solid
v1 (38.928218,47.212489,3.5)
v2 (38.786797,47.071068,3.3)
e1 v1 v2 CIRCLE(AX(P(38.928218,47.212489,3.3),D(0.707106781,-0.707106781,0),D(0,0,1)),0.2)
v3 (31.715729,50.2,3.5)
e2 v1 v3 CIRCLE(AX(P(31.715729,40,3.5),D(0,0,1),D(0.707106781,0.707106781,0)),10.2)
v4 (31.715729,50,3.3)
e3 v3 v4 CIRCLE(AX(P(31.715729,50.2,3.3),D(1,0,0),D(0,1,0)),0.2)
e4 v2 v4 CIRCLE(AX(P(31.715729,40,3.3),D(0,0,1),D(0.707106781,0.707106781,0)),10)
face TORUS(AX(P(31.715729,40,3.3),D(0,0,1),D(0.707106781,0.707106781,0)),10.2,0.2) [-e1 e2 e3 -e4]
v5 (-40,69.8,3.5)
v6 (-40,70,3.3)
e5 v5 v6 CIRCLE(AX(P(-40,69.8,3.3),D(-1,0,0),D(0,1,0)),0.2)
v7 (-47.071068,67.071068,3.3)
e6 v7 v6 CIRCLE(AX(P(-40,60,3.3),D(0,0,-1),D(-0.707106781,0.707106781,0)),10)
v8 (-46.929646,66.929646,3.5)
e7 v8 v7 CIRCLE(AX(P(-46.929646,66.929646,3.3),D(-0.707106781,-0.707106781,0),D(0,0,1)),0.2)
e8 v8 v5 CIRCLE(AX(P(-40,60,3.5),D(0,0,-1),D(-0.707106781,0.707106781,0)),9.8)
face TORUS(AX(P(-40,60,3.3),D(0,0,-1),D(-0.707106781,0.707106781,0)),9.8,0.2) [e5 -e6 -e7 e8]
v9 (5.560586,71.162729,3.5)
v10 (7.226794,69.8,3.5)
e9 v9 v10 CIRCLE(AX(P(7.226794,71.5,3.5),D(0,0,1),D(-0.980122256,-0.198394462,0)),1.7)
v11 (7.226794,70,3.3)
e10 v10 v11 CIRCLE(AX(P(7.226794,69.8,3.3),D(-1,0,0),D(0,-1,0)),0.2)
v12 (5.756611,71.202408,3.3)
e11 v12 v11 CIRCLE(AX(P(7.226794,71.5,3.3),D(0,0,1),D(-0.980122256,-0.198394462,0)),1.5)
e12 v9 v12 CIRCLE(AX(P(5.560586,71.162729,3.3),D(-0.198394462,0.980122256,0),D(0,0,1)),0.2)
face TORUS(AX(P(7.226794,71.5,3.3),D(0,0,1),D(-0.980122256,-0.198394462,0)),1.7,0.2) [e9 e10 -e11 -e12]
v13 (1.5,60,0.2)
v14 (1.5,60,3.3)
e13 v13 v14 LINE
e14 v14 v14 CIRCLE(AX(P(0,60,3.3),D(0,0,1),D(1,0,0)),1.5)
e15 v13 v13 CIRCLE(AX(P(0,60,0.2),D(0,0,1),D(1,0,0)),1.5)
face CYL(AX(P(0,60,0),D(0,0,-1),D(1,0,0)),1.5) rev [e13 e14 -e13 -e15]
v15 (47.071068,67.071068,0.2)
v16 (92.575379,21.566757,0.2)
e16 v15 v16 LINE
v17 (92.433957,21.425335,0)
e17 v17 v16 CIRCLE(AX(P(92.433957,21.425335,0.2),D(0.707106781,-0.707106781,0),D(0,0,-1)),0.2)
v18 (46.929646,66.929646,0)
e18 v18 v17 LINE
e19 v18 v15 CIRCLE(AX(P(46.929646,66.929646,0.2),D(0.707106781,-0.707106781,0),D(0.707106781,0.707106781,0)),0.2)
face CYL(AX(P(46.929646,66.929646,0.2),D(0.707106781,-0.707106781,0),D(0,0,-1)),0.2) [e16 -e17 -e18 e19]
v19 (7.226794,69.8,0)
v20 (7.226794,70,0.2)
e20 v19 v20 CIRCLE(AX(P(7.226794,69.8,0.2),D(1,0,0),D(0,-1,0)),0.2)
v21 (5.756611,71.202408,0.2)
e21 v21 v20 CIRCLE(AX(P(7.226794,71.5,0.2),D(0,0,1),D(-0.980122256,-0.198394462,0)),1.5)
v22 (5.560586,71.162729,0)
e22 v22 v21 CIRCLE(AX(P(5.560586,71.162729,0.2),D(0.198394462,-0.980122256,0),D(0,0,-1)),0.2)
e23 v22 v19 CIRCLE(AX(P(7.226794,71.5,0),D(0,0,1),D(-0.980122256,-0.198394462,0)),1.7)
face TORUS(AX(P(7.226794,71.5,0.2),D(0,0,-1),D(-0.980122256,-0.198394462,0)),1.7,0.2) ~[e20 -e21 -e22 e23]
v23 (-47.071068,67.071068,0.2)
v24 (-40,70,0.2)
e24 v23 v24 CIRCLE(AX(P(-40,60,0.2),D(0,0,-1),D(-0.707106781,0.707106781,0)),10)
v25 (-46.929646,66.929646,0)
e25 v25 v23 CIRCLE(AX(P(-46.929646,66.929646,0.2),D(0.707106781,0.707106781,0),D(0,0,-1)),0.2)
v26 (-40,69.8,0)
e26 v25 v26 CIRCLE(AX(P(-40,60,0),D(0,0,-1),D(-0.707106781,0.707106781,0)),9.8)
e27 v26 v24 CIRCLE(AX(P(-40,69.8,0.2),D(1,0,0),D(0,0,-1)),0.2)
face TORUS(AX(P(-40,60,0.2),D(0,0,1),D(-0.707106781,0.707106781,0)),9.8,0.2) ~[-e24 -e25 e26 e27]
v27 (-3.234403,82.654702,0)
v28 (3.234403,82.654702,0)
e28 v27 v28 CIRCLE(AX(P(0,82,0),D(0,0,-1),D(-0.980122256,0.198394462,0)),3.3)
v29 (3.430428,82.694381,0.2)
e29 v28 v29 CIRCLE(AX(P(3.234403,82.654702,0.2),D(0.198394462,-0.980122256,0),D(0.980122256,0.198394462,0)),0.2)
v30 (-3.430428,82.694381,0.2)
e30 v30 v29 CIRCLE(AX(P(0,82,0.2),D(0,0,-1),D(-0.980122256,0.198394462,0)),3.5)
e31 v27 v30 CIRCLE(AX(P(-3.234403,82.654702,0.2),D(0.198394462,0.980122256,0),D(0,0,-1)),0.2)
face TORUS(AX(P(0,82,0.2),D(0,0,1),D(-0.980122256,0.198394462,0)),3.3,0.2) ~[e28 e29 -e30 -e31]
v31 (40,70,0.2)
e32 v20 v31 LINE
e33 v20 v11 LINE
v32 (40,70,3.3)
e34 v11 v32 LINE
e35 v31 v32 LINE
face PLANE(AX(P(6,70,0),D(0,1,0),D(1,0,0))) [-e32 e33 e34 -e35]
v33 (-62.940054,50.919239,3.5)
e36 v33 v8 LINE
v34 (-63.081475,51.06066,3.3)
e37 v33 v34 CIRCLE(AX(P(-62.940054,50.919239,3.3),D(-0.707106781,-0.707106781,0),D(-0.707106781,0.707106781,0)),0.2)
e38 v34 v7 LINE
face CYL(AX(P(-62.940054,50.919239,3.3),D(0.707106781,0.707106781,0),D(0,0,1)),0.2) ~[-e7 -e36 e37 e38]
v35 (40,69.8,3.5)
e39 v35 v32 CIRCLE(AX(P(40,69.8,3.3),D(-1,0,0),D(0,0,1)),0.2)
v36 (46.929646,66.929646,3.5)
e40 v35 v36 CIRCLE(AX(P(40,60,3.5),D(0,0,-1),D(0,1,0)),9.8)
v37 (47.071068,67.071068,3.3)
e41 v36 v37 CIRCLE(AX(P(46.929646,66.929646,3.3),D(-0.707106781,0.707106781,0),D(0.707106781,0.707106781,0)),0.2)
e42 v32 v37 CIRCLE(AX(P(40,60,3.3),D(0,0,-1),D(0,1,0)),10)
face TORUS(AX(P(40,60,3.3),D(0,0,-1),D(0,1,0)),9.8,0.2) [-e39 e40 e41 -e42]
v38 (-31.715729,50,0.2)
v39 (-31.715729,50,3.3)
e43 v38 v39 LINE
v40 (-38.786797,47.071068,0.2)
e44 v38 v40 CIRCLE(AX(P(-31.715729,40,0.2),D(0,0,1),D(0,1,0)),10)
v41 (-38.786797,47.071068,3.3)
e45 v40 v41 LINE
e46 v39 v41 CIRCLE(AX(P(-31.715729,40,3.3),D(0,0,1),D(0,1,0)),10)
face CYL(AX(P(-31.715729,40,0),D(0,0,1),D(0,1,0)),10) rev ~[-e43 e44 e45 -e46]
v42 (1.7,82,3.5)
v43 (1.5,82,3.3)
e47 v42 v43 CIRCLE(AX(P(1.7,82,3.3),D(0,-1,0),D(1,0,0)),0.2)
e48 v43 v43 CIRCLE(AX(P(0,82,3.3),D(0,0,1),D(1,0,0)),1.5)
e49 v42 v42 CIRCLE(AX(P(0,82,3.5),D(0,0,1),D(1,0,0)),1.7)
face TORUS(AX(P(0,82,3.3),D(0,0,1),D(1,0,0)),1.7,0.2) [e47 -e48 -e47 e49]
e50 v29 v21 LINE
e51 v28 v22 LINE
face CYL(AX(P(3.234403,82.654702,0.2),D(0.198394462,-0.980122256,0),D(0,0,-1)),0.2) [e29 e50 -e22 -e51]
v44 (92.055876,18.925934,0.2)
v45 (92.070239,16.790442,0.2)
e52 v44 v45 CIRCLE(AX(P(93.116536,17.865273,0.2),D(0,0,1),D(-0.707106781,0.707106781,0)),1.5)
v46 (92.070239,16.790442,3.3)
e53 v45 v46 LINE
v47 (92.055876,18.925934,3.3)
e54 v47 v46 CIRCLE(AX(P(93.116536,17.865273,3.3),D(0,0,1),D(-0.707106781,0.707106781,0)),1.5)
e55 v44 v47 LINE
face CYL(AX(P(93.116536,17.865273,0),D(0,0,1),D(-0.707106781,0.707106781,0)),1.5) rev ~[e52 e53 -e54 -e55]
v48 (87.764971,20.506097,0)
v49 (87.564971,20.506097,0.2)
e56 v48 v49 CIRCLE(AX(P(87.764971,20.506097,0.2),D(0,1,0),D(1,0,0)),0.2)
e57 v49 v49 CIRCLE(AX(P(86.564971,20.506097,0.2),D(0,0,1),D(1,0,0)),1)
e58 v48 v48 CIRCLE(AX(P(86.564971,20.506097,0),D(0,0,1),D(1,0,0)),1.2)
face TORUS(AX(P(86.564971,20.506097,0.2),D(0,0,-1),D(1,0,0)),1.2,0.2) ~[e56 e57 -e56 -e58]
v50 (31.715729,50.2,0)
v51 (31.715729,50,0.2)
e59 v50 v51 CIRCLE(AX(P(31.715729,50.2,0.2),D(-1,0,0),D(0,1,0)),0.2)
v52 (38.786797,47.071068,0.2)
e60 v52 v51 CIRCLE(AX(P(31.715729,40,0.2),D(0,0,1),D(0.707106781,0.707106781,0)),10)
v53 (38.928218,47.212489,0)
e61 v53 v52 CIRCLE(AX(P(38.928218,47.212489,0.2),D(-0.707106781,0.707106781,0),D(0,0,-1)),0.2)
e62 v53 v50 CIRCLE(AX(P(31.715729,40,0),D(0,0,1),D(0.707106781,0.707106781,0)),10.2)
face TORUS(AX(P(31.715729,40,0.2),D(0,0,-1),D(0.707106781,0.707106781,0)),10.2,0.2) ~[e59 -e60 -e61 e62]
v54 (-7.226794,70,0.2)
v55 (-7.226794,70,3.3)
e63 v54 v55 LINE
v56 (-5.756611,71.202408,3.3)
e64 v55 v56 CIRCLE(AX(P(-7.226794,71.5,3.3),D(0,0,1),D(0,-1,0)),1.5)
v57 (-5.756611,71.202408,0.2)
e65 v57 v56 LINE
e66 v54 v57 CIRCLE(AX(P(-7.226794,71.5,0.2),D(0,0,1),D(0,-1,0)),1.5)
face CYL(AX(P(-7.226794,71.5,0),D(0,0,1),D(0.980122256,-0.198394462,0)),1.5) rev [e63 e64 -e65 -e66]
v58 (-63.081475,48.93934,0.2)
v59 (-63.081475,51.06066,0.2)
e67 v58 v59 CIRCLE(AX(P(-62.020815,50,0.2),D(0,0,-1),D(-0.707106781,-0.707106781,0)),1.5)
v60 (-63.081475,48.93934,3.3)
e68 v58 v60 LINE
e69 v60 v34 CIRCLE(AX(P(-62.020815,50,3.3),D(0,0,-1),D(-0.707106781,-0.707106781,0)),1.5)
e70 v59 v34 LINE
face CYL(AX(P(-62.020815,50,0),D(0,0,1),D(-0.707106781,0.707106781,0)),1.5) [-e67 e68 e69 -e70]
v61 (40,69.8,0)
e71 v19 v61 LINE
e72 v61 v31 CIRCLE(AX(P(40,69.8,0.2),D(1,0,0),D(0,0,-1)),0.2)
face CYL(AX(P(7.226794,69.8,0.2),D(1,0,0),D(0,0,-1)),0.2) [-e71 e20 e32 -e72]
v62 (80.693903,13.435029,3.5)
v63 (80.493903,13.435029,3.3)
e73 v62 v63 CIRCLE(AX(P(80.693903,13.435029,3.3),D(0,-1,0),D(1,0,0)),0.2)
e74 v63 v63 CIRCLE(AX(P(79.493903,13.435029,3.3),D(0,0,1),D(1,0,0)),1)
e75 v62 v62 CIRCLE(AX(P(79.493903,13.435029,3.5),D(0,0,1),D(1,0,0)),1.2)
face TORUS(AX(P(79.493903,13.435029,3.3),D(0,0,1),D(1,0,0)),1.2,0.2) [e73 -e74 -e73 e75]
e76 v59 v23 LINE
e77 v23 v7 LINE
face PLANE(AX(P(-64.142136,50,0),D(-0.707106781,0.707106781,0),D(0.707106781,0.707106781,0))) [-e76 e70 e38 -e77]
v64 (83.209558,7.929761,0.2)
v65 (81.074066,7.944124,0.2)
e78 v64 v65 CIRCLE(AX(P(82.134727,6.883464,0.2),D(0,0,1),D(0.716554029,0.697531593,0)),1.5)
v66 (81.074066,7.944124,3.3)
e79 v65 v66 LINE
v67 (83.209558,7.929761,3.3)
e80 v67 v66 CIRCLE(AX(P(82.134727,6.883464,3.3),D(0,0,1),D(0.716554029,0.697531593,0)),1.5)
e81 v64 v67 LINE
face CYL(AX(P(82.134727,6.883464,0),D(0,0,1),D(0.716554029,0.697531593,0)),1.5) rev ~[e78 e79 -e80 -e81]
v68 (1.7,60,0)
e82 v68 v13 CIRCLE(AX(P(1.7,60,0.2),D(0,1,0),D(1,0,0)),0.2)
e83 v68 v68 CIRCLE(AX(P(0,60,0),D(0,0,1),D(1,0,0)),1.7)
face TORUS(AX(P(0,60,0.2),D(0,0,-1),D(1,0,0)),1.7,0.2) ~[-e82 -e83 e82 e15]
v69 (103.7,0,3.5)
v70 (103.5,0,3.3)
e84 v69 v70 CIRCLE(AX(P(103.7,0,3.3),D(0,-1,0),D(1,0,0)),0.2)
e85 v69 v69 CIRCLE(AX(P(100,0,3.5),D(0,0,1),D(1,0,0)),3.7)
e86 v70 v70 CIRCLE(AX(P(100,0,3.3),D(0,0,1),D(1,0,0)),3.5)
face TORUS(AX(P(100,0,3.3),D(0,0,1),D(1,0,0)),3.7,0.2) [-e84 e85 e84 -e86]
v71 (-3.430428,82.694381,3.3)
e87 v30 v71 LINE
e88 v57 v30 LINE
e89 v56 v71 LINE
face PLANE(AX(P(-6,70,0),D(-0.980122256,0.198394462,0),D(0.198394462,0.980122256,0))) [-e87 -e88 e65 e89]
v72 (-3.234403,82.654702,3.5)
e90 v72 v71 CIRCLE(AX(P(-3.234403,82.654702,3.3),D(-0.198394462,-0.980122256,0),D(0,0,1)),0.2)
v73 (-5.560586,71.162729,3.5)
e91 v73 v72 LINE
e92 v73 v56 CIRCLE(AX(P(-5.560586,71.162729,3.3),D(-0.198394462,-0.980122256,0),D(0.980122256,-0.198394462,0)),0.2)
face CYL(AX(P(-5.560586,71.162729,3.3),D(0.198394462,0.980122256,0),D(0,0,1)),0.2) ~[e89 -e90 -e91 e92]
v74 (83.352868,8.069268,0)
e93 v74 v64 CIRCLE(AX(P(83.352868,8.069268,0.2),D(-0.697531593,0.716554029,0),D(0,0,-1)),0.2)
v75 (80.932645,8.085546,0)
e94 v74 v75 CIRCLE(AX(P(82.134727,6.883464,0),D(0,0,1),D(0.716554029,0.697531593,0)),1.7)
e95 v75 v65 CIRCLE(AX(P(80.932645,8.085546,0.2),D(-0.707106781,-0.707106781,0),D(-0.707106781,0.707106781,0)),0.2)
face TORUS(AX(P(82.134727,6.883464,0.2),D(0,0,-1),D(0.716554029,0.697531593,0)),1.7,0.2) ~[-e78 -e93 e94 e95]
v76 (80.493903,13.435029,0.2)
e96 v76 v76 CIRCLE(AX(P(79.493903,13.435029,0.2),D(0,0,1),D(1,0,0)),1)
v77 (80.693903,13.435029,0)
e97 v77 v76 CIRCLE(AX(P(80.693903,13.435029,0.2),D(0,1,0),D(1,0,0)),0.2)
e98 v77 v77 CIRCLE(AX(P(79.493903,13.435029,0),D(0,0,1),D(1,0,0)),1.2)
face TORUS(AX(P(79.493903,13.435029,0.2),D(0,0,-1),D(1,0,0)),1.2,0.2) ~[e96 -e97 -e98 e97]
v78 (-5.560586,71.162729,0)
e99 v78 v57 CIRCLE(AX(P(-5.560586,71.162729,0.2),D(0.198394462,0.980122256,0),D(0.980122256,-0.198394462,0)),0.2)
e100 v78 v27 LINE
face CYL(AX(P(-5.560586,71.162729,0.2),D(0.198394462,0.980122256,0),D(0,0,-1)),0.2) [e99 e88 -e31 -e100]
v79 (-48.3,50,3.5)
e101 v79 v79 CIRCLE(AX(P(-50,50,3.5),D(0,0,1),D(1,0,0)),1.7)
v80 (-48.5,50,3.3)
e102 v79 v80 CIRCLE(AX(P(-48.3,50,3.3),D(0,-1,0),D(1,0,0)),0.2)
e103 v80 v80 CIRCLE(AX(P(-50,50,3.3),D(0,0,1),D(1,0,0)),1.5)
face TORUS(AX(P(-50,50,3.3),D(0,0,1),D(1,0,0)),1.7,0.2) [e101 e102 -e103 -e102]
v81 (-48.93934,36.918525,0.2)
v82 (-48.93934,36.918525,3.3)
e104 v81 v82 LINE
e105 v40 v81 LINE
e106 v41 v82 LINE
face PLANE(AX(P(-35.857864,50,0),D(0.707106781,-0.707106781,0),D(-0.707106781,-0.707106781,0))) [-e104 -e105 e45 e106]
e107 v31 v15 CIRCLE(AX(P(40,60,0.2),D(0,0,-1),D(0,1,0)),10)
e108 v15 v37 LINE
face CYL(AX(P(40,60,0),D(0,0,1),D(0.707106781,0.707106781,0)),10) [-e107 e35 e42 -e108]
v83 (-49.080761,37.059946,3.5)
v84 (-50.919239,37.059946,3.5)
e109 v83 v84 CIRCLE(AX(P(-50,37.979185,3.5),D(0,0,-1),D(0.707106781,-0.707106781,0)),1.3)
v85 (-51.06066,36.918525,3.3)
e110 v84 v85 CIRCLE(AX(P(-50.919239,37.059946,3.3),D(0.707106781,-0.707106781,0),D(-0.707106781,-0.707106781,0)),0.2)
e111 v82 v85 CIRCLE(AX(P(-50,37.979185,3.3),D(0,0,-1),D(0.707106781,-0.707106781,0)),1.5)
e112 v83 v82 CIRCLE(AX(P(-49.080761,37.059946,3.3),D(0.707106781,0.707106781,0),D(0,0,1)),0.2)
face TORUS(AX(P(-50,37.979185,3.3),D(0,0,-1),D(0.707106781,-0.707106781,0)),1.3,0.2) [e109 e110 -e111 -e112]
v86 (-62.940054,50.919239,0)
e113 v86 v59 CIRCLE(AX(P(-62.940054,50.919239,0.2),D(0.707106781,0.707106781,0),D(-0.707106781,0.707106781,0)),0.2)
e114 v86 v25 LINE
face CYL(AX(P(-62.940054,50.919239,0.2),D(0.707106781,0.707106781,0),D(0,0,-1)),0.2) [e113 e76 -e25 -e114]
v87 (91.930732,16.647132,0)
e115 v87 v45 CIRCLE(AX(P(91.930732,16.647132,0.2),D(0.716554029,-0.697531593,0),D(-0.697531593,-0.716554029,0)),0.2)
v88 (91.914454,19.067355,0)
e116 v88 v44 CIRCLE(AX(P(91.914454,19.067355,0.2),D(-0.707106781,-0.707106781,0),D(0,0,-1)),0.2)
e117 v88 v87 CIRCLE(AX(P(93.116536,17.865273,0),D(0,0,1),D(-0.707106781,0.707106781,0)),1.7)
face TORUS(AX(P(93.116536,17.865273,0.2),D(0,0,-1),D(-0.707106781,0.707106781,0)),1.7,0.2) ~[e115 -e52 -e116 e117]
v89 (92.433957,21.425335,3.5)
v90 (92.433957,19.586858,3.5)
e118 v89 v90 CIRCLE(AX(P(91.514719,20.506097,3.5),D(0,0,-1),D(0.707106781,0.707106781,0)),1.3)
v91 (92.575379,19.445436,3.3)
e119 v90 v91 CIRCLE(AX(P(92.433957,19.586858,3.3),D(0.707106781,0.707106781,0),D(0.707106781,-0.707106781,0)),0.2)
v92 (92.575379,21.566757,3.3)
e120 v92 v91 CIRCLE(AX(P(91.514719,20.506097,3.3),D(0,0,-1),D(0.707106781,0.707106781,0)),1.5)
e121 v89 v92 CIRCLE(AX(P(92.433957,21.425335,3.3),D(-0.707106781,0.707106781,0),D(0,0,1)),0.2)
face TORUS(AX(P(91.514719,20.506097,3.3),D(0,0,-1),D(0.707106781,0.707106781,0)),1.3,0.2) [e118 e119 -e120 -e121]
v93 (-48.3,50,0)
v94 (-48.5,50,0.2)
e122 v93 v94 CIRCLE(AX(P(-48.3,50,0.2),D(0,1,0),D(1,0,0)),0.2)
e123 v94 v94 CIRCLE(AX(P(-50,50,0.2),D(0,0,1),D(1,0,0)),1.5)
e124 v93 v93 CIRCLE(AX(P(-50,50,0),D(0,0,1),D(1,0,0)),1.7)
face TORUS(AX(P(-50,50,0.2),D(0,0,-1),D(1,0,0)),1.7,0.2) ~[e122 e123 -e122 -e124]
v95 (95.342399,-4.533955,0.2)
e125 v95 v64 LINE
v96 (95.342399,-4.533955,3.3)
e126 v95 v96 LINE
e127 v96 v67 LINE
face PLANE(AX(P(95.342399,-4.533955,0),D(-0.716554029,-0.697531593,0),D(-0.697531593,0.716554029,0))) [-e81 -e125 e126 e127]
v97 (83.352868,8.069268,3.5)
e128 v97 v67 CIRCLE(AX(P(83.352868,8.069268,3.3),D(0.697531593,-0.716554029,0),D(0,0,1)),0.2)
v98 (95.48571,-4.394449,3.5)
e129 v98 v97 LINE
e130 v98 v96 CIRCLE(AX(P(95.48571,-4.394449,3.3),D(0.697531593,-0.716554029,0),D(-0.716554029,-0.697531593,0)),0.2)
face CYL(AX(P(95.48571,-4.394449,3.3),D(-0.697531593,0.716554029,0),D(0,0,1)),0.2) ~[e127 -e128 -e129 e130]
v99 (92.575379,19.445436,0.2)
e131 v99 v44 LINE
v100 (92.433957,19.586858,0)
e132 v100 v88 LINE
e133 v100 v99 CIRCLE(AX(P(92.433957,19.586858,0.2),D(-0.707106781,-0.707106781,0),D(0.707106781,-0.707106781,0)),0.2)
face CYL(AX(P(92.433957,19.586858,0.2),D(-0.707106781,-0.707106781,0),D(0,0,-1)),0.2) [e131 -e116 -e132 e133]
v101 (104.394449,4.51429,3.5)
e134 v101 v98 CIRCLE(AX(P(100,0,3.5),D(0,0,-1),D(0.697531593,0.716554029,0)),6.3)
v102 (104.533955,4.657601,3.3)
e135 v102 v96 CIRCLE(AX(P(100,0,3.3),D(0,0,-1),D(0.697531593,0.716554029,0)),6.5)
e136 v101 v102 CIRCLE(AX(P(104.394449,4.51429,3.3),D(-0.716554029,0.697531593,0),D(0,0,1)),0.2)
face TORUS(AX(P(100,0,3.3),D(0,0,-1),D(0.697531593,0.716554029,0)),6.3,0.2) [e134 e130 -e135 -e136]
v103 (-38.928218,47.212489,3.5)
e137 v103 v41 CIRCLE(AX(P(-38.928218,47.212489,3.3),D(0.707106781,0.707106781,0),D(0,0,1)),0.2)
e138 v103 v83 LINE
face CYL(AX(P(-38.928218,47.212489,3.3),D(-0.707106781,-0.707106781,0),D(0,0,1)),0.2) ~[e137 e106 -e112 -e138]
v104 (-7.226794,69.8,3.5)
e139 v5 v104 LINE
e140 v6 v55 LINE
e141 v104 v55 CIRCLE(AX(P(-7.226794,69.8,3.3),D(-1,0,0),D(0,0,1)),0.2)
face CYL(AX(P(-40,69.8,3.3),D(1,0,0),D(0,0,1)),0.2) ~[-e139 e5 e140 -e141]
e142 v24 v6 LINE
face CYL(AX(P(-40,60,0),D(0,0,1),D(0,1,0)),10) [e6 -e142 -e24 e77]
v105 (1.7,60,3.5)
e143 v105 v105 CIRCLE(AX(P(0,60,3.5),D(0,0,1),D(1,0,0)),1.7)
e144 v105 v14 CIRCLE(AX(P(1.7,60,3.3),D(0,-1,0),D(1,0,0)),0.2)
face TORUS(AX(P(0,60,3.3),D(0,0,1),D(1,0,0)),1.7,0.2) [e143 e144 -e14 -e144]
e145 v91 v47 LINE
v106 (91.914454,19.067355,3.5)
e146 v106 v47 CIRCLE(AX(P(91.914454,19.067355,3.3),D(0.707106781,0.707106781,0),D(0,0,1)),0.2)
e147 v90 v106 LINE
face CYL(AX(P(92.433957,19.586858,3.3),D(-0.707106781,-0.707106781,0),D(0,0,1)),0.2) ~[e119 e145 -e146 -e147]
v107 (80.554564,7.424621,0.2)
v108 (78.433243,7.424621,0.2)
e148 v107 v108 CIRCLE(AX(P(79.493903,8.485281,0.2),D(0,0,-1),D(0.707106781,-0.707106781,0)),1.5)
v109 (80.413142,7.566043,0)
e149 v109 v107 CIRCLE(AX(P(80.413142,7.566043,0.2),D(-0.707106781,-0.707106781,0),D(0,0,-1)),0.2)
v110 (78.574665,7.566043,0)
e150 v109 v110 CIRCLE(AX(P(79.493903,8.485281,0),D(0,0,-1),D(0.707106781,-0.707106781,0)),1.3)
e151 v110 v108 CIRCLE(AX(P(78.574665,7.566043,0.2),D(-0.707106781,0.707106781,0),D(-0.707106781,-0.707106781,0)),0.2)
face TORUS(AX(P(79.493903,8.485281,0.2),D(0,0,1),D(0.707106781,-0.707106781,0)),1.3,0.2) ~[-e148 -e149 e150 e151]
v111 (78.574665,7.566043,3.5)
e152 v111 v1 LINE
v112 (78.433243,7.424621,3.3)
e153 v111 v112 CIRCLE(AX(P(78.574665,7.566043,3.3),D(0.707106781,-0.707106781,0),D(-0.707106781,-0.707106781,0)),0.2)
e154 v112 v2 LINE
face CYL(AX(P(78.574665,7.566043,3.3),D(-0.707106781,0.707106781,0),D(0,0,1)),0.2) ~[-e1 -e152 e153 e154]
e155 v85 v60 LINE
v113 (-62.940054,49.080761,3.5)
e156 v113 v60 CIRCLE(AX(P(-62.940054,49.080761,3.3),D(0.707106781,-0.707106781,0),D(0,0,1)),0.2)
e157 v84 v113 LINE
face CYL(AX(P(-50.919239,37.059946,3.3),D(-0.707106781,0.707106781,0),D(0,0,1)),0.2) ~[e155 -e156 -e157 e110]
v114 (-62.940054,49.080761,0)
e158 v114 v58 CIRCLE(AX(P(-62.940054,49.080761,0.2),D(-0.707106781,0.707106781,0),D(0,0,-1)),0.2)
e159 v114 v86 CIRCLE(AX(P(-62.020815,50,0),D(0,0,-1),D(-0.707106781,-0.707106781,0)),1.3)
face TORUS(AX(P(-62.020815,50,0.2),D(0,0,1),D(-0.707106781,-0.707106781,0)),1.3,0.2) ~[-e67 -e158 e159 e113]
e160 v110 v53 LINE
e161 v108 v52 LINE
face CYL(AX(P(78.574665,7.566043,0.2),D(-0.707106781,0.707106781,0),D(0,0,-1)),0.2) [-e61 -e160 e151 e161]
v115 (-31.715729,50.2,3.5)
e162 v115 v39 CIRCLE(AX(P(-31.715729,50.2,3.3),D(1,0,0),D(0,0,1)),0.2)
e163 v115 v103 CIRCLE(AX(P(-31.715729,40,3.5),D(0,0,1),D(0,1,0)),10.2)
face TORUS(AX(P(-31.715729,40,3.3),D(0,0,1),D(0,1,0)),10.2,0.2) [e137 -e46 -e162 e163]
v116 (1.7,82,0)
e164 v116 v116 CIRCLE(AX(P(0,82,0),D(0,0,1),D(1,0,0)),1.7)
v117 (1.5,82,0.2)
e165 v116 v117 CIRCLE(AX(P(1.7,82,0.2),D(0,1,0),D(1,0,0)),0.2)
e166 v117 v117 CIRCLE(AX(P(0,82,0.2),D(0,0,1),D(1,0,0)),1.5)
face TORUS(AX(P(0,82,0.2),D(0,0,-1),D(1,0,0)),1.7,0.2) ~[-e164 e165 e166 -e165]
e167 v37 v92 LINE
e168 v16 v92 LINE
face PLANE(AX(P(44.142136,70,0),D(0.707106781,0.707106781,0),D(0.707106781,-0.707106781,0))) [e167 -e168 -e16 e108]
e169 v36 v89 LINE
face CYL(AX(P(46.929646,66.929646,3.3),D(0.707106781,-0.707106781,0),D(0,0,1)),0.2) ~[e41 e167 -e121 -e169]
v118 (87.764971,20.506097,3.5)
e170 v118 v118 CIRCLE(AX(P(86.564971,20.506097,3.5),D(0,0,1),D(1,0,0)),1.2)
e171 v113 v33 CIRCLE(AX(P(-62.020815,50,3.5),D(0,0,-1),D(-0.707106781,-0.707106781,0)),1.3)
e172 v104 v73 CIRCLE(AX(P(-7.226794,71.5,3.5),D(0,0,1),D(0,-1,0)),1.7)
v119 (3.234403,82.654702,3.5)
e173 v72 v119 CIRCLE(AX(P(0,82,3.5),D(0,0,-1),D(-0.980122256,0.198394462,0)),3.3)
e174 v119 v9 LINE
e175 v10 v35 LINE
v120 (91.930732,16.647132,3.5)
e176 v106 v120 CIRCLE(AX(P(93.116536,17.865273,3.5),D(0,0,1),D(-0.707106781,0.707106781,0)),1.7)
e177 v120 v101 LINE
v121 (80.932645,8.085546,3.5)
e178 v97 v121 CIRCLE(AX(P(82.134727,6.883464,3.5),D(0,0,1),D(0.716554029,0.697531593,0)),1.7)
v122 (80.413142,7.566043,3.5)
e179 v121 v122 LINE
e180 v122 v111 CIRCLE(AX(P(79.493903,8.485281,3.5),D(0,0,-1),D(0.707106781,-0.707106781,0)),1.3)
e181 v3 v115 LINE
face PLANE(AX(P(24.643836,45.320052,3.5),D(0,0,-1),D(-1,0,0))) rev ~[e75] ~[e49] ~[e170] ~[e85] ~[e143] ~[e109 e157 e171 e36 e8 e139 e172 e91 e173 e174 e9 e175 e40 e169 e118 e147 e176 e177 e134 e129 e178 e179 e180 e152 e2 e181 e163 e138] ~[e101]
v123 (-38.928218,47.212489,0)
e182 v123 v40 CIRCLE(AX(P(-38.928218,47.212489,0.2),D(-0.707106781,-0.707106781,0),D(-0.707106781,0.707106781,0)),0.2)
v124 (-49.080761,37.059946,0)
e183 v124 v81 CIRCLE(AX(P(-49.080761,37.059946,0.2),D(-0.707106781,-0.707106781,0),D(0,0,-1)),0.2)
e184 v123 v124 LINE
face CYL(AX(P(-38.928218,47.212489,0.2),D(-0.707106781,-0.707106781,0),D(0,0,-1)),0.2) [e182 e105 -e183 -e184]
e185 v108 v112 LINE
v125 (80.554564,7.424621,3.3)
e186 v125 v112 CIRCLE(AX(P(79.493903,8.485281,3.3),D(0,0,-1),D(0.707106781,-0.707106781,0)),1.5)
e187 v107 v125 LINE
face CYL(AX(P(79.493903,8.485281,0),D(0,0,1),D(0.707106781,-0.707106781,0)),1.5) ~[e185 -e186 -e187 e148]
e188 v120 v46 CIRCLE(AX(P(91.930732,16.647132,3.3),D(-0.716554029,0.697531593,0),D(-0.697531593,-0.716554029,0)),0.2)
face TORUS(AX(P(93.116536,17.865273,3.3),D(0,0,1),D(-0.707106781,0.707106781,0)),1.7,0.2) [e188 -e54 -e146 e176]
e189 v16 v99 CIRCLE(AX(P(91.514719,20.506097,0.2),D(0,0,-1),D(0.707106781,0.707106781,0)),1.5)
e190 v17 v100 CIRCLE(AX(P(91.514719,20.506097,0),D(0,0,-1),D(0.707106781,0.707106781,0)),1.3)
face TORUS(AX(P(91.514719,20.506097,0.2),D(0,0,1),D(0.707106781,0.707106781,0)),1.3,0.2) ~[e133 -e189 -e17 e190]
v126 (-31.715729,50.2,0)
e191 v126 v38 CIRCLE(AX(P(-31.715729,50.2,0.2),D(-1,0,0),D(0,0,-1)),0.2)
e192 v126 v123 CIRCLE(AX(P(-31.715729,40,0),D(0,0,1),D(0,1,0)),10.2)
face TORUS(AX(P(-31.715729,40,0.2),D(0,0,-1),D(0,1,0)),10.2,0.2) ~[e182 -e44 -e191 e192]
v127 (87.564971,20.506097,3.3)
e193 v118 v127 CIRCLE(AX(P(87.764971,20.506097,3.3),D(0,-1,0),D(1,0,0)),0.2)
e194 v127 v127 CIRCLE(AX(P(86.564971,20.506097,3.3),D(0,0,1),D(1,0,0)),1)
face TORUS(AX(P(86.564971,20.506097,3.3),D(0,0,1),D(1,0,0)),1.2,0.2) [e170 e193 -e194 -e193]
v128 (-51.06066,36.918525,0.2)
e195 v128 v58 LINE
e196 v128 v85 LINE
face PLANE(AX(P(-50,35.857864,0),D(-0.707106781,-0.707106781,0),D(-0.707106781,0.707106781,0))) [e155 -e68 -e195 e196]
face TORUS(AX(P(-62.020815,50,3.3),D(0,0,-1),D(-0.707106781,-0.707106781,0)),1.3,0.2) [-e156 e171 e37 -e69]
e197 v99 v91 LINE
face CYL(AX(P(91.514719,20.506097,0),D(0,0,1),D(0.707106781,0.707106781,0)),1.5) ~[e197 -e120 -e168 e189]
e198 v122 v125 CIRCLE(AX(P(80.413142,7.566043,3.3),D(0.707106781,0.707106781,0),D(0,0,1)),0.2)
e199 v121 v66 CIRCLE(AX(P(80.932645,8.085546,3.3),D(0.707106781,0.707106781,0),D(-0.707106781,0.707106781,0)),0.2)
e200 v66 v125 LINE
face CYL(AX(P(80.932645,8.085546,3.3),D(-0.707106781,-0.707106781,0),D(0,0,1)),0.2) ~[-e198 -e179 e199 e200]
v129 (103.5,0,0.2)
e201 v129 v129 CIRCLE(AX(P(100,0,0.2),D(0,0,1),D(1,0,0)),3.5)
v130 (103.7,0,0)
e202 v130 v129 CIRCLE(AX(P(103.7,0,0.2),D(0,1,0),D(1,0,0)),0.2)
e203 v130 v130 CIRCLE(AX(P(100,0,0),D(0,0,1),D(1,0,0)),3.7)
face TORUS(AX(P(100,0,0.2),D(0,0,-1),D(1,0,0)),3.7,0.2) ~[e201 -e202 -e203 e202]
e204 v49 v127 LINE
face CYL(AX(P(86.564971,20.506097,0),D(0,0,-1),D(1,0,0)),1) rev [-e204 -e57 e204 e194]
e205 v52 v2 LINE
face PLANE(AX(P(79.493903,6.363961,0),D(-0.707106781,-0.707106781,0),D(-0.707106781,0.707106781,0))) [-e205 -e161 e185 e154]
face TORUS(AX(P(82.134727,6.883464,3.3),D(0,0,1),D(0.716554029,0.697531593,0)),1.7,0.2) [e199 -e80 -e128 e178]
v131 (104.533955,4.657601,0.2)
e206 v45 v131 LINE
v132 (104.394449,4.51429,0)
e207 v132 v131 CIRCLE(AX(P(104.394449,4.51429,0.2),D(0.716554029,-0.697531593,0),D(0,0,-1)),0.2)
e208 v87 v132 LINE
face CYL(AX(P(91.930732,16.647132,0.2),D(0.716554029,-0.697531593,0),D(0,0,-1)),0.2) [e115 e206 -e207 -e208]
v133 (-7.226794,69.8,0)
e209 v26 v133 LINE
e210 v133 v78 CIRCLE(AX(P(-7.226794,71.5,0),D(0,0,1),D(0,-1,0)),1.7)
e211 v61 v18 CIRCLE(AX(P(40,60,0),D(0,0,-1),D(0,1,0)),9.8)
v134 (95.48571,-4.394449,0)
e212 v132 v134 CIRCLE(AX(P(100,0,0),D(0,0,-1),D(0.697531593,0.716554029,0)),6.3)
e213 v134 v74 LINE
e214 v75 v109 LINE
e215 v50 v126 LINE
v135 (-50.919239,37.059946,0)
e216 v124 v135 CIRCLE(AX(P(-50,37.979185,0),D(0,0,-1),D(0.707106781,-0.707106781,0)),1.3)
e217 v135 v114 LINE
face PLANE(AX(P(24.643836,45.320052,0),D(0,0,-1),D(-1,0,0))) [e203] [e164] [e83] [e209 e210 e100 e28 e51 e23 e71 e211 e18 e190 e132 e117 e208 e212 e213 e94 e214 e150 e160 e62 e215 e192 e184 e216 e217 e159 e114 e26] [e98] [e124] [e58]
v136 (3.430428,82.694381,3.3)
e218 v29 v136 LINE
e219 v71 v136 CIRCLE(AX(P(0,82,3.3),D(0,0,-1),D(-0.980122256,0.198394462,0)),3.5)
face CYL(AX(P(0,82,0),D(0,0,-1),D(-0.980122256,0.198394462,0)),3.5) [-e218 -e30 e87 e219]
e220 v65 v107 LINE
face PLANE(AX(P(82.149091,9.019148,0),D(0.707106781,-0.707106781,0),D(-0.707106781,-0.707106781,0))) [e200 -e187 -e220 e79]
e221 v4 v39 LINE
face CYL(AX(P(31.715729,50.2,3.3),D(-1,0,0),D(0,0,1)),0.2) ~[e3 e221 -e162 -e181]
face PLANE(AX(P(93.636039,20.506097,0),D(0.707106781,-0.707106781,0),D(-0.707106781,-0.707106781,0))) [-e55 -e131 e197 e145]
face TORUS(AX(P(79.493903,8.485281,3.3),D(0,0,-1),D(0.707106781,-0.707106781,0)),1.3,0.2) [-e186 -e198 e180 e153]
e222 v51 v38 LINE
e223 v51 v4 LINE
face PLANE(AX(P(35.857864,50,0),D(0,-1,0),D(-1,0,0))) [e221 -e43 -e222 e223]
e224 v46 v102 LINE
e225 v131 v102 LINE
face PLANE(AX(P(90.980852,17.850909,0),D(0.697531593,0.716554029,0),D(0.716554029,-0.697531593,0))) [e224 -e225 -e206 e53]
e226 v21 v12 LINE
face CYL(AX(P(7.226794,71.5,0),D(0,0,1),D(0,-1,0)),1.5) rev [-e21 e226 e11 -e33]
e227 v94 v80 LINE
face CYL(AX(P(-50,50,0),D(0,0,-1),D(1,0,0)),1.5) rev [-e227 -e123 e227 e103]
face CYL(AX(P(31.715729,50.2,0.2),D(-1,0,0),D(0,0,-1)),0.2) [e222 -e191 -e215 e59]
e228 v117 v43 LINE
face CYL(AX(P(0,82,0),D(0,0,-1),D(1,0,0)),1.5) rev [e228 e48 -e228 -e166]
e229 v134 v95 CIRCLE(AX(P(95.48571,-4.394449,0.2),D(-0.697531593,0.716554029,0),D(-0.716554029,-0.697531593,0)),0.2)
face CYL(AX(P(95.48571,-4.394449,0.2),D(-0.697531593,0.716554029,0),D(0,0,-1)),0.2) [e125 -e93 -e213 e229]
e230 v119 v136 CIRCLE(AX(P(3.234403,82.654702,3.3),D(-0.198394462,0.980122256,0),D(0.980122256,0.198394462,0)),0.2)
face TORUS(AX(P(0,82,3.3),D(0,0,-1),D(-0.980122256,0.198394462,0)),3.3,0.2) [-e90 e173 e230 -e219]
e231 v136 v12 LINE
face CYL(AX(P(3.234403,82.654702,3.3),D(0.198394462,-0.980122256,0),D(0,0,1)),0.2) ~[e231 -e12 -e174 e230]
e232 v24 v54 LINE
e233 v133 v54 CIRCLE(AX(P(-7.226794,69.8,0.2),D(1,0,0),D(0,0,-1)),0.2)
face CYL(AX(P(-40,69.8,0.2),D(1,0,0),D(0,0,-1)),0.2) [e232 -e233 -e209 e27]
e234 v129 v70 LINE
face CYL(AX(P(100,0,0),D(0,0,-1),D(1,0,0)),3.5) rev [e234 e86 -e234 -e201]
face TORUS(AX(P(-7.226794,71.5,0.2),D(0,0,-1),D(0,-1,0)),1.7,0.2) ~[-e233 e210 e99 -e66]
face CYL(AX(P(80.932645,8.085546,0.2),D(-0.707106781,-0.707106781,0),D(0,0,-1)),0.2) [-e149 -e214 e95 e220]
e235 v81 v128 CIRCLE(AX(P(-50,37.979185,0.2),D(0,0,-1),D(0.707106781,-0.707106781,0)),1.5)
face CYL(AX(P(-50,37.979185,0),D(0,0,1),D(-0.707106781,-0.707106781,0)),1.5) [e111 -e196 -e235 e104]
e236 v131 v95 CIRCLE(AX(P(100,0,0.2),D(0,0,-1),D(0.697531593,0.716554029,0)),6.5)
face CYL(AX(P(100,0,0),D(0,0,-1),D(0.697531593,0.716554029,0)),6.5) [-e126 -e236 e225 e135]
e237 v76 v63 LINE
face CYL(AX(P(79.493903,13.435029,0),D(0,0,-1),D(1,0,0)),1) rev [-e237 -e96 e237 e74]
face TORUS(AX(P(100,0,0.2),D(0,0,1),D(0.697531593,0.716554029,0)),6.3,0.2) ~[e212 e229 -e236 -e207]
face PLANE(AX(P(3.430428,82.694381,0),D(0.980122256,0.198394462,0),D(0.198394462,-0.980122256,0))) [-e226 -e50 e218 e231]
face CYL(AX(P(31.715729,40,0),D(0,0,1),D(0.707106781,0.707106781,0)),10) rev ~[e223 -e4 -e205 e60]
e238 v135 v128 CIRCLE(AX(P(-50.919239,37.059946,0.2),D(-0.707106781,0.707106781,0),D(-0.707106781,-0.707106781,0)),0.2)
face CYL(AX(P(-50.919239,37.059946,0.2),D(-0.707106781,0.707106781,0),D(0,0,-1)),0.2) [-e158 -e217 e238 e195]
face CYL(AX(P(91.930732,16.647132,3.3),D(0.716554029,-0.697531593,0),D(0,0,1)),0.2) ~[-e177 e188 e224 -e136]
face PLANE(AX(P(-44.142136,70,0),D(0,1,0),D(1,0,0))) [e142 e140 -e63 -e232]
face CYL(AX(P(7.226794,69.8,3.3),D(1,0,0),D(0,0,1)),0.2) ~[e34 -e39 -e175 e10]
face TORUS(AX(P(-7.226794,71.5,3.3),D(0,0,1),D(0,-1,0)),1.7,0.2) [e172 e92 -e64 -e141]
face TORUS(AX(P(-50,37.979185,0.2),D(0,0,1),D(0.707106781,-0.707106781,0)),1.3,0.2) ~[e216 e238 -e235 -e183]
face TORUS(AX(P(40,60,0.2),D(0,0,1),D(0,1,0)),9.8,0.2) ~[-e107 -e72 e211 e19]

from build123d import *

# Parameters (mm, degrees)
SKETCH7_R           = 1
SKETCH7_R_2         = 3.5
SKETCH7_R_3         = 1.5
BOSS_EXTRUDE1_DEPTH = 3.5
FILLET1_R           = 10
FILLET2_R           = 1.5
FILLET3_R           = 0.2


with BuildPart() as part:
    # Sketch7 → Boss-Extrude1 (new body)
    with BuildSketch(Plane.XY):
        with BuildLine():
            Line((90.980851591, 17.850909276), (104.533955357, 4.657601188))
            ThreePointArc((104.533955357, 4.657601188), (104.596194078, -4.596194078), (95.342398812, -4.533955357))
            Line((95.342398812, -4.533955357), (82.149090724, 9.019148409))
            Line((82.149090724, 9.019148409), (79.493903346, 6.363961031))
            Line((79.493903346, 6.363961031), (35.857864376, 50))
            Line((35.857864376, 50), (-35.857864376, 50))
            Line((-35.857864376, 50), (-50, 35.857864376))
            Line((-50, 35.857864376), (-64.142135624, 50))
            Line((-64.142135624, 50), (-44.142135624, 70))
            Line((-44.142135624, 70), (-6, 70))
            Line((-6, 70), (-3.430427898, 82.694380615))
            ThreePointArc((-3.430427898, 82.694380615), (0, 85.5), (3.430427898, 82.694380615))
            Line((3.430427898, 82.694380615), (6, 70))
            Line((6, 70), (44.142135624, 70))
            Line((44.142135624, 70), (93.636038969, 20.506096654))
            Line((93.636038969, 20.506096654), (90.980851591, 17.850909276))
        make_face()
        with Locations((86.564971157, 20.506096654)):
            Circle(SKETCH7_R, mode=Mode.SUBTRACT)
        with Locations((100, 0)):
            Circle(SKETCH7_R_2, mode=Mode.SUBTRACT)
        with Locations((0, 82)):
            Circle(SKETCH7_R_3, mode=Mode.SUBTRACT)
        with Locations((0, 60)):
            Circle(SKETCH7_R_3, mode=Mode.SUBTRACT)
        with Locations((79.493903346, 13.435028843)):
            Circle(SKETCH7_R, mode=Mode.SUBTRACT)
        with Locations((-50, 50)):
            Circle(SKETCH7_R_3, mode=Mode.SUBTRACT)
    extrude(amount=BOSS_EXTRUDE1_DEPTH)

    # Fillet1
    fillet1_edges = [part.edges().sort_by_distance(p)[0] for p in [
        (35.857864376, 50, 1.75),
        (-35.857864376, 50, 1.75),
        (-44.142135624, 70, 1.75),
        (44.142135624, 70, 1.75),
    ]]
    fillet(fillet1_edges, radius=FILLET1_R)

    # Fillet2
    fillet2_edges = [part.edges().sort_by_distance(p)[0] for p in [
        (90.980851591, 17.850909276, 1.75),
        (82.149090724, 9.019148409, 1.75),
        (79.493903346, 6.363961031, 1.75),
        (-50, 35.857864376, 1.75),
        (-64.142135624, 50, 1.75),
        (-6, 70, 1.75),
        (6, 70, 1.75),
        (93.636038969, 20.506096654, 1.75),
    ]]
    fillet(fillet2_edges, radius=FILLET2_R)

    # Fillet3
    fillet3_edges = [part.edges().sort_by_distance(p)[0] for p in [
        (-43.863068196, 41.99479618, 3.5),
        (-23.613397104, 70, 0),
        (4.593519361, 76.948394462, 0),
        (69.823223305, 44.318912319, 0),
        (92.315627321, 19.185685006, 0),
        (89.275978249, 1.697903009, 0),
        (80.814314994, 7.684372679, 0),
        (-57.071067812, 42.928932188, 0),
        (79.493903346, 6.985281374, 0),
        (93.014718626, 20.506096654, 0),
        (-63.52081528, 50, 0),
        (-50, 36.47918472, 0),
        (-57.071067812, 42.928932188, 3.5),
        (-23.613397104, 70, 3.5),
        (80.814314994, 7.684372679, 3.5),
        (89.275978249, 1.697903009, 3.5),
        (92.315627321, 19.185685006, 3.5),
        (69.823223305, 44.318912319, 3.5),
        (4.593519361, 76.948394462, 3.5),
        (79.493903346, 6.985281374, 3.5),
        (93.014718626, 20.506096654, 3.5),
        (-63.52081528, 50, 3.5),
        (-50, 36.47918472, 3.5),
        (-6.27715942, 70.338882534, 0),
        (-6.27715942, 70.338882534, 3.5),
        (6.27715942, 70.338882534, 0),
        (6.27715942, 70.338882534, 3.5),
        (91.616569941, 17.855184959, 0),
        (91.616569941, 17.855184959, 3.5),
        (82.144815041, 8.383430059, 0),
        (82.144815041, 8.383430059, 3.5),
        (98.302096991, 10.724021751, 0),
        (104.596194078, -4.596194078, 0),
        (-4.593519361, 76.948394462, 0),
        (0, 85.5, 0),
        (0, 85.5, 3.5),
        (-4.593519361, 76.948394462, 3.5),
        (85.564971157, 20.506096654, 0),
        (85.564971157, 20.506096654, 3.5),
        (96.5, 0, 0),
        (96.5, 0, 3.5),
        (-1.5, 82, 0),
        (-1.5, 82, 3.5),
        (-1.5, 60, 0),
        (-1.5, 60, 3.5),
        (78.493903346, 13.435028843, 0),
        (78.493903346, 13.435028843, 3.5),
        (-51.5, 50, 0),
        (-51.5, 50, 3.5),
        (104.596194078, -4.596194078, 3.5),
        (98.302096991, 10.724021751, 3.5),
        (0, 50, 0),
        (0, 50, 3.5),
        (58.610019869, 27.247844507, 0),
        (58.610019869, 27.247844507, 3.5),
        (-55.076271632, 59.065863992, 0),
        (-55.076271632, 59.065863992, 3.5),
        (23.613397104, 70, 0),
        (43.826834324, 69.238795325, 0),
        (-43.826834324, 69.238795325, 0),
        (23.613397104, 70, 3.5),
        (43.826834324, 69.238795325, 3.5),
        (-43.826834324, 69.238795325, 3.5),
        (-35.542563076, 49.238795325, 0),
        (-35.542563076, 49.238795325, 3.5),
        (35.542563076, 49.238795325, 0),
        (35.542563076, 49.238795325, 3.5),
        (-43.863068196, 41.99479618, 0),
    ]]
    fillet(fillet3_edges, radius=FILLET3_R)


solid = part.part
